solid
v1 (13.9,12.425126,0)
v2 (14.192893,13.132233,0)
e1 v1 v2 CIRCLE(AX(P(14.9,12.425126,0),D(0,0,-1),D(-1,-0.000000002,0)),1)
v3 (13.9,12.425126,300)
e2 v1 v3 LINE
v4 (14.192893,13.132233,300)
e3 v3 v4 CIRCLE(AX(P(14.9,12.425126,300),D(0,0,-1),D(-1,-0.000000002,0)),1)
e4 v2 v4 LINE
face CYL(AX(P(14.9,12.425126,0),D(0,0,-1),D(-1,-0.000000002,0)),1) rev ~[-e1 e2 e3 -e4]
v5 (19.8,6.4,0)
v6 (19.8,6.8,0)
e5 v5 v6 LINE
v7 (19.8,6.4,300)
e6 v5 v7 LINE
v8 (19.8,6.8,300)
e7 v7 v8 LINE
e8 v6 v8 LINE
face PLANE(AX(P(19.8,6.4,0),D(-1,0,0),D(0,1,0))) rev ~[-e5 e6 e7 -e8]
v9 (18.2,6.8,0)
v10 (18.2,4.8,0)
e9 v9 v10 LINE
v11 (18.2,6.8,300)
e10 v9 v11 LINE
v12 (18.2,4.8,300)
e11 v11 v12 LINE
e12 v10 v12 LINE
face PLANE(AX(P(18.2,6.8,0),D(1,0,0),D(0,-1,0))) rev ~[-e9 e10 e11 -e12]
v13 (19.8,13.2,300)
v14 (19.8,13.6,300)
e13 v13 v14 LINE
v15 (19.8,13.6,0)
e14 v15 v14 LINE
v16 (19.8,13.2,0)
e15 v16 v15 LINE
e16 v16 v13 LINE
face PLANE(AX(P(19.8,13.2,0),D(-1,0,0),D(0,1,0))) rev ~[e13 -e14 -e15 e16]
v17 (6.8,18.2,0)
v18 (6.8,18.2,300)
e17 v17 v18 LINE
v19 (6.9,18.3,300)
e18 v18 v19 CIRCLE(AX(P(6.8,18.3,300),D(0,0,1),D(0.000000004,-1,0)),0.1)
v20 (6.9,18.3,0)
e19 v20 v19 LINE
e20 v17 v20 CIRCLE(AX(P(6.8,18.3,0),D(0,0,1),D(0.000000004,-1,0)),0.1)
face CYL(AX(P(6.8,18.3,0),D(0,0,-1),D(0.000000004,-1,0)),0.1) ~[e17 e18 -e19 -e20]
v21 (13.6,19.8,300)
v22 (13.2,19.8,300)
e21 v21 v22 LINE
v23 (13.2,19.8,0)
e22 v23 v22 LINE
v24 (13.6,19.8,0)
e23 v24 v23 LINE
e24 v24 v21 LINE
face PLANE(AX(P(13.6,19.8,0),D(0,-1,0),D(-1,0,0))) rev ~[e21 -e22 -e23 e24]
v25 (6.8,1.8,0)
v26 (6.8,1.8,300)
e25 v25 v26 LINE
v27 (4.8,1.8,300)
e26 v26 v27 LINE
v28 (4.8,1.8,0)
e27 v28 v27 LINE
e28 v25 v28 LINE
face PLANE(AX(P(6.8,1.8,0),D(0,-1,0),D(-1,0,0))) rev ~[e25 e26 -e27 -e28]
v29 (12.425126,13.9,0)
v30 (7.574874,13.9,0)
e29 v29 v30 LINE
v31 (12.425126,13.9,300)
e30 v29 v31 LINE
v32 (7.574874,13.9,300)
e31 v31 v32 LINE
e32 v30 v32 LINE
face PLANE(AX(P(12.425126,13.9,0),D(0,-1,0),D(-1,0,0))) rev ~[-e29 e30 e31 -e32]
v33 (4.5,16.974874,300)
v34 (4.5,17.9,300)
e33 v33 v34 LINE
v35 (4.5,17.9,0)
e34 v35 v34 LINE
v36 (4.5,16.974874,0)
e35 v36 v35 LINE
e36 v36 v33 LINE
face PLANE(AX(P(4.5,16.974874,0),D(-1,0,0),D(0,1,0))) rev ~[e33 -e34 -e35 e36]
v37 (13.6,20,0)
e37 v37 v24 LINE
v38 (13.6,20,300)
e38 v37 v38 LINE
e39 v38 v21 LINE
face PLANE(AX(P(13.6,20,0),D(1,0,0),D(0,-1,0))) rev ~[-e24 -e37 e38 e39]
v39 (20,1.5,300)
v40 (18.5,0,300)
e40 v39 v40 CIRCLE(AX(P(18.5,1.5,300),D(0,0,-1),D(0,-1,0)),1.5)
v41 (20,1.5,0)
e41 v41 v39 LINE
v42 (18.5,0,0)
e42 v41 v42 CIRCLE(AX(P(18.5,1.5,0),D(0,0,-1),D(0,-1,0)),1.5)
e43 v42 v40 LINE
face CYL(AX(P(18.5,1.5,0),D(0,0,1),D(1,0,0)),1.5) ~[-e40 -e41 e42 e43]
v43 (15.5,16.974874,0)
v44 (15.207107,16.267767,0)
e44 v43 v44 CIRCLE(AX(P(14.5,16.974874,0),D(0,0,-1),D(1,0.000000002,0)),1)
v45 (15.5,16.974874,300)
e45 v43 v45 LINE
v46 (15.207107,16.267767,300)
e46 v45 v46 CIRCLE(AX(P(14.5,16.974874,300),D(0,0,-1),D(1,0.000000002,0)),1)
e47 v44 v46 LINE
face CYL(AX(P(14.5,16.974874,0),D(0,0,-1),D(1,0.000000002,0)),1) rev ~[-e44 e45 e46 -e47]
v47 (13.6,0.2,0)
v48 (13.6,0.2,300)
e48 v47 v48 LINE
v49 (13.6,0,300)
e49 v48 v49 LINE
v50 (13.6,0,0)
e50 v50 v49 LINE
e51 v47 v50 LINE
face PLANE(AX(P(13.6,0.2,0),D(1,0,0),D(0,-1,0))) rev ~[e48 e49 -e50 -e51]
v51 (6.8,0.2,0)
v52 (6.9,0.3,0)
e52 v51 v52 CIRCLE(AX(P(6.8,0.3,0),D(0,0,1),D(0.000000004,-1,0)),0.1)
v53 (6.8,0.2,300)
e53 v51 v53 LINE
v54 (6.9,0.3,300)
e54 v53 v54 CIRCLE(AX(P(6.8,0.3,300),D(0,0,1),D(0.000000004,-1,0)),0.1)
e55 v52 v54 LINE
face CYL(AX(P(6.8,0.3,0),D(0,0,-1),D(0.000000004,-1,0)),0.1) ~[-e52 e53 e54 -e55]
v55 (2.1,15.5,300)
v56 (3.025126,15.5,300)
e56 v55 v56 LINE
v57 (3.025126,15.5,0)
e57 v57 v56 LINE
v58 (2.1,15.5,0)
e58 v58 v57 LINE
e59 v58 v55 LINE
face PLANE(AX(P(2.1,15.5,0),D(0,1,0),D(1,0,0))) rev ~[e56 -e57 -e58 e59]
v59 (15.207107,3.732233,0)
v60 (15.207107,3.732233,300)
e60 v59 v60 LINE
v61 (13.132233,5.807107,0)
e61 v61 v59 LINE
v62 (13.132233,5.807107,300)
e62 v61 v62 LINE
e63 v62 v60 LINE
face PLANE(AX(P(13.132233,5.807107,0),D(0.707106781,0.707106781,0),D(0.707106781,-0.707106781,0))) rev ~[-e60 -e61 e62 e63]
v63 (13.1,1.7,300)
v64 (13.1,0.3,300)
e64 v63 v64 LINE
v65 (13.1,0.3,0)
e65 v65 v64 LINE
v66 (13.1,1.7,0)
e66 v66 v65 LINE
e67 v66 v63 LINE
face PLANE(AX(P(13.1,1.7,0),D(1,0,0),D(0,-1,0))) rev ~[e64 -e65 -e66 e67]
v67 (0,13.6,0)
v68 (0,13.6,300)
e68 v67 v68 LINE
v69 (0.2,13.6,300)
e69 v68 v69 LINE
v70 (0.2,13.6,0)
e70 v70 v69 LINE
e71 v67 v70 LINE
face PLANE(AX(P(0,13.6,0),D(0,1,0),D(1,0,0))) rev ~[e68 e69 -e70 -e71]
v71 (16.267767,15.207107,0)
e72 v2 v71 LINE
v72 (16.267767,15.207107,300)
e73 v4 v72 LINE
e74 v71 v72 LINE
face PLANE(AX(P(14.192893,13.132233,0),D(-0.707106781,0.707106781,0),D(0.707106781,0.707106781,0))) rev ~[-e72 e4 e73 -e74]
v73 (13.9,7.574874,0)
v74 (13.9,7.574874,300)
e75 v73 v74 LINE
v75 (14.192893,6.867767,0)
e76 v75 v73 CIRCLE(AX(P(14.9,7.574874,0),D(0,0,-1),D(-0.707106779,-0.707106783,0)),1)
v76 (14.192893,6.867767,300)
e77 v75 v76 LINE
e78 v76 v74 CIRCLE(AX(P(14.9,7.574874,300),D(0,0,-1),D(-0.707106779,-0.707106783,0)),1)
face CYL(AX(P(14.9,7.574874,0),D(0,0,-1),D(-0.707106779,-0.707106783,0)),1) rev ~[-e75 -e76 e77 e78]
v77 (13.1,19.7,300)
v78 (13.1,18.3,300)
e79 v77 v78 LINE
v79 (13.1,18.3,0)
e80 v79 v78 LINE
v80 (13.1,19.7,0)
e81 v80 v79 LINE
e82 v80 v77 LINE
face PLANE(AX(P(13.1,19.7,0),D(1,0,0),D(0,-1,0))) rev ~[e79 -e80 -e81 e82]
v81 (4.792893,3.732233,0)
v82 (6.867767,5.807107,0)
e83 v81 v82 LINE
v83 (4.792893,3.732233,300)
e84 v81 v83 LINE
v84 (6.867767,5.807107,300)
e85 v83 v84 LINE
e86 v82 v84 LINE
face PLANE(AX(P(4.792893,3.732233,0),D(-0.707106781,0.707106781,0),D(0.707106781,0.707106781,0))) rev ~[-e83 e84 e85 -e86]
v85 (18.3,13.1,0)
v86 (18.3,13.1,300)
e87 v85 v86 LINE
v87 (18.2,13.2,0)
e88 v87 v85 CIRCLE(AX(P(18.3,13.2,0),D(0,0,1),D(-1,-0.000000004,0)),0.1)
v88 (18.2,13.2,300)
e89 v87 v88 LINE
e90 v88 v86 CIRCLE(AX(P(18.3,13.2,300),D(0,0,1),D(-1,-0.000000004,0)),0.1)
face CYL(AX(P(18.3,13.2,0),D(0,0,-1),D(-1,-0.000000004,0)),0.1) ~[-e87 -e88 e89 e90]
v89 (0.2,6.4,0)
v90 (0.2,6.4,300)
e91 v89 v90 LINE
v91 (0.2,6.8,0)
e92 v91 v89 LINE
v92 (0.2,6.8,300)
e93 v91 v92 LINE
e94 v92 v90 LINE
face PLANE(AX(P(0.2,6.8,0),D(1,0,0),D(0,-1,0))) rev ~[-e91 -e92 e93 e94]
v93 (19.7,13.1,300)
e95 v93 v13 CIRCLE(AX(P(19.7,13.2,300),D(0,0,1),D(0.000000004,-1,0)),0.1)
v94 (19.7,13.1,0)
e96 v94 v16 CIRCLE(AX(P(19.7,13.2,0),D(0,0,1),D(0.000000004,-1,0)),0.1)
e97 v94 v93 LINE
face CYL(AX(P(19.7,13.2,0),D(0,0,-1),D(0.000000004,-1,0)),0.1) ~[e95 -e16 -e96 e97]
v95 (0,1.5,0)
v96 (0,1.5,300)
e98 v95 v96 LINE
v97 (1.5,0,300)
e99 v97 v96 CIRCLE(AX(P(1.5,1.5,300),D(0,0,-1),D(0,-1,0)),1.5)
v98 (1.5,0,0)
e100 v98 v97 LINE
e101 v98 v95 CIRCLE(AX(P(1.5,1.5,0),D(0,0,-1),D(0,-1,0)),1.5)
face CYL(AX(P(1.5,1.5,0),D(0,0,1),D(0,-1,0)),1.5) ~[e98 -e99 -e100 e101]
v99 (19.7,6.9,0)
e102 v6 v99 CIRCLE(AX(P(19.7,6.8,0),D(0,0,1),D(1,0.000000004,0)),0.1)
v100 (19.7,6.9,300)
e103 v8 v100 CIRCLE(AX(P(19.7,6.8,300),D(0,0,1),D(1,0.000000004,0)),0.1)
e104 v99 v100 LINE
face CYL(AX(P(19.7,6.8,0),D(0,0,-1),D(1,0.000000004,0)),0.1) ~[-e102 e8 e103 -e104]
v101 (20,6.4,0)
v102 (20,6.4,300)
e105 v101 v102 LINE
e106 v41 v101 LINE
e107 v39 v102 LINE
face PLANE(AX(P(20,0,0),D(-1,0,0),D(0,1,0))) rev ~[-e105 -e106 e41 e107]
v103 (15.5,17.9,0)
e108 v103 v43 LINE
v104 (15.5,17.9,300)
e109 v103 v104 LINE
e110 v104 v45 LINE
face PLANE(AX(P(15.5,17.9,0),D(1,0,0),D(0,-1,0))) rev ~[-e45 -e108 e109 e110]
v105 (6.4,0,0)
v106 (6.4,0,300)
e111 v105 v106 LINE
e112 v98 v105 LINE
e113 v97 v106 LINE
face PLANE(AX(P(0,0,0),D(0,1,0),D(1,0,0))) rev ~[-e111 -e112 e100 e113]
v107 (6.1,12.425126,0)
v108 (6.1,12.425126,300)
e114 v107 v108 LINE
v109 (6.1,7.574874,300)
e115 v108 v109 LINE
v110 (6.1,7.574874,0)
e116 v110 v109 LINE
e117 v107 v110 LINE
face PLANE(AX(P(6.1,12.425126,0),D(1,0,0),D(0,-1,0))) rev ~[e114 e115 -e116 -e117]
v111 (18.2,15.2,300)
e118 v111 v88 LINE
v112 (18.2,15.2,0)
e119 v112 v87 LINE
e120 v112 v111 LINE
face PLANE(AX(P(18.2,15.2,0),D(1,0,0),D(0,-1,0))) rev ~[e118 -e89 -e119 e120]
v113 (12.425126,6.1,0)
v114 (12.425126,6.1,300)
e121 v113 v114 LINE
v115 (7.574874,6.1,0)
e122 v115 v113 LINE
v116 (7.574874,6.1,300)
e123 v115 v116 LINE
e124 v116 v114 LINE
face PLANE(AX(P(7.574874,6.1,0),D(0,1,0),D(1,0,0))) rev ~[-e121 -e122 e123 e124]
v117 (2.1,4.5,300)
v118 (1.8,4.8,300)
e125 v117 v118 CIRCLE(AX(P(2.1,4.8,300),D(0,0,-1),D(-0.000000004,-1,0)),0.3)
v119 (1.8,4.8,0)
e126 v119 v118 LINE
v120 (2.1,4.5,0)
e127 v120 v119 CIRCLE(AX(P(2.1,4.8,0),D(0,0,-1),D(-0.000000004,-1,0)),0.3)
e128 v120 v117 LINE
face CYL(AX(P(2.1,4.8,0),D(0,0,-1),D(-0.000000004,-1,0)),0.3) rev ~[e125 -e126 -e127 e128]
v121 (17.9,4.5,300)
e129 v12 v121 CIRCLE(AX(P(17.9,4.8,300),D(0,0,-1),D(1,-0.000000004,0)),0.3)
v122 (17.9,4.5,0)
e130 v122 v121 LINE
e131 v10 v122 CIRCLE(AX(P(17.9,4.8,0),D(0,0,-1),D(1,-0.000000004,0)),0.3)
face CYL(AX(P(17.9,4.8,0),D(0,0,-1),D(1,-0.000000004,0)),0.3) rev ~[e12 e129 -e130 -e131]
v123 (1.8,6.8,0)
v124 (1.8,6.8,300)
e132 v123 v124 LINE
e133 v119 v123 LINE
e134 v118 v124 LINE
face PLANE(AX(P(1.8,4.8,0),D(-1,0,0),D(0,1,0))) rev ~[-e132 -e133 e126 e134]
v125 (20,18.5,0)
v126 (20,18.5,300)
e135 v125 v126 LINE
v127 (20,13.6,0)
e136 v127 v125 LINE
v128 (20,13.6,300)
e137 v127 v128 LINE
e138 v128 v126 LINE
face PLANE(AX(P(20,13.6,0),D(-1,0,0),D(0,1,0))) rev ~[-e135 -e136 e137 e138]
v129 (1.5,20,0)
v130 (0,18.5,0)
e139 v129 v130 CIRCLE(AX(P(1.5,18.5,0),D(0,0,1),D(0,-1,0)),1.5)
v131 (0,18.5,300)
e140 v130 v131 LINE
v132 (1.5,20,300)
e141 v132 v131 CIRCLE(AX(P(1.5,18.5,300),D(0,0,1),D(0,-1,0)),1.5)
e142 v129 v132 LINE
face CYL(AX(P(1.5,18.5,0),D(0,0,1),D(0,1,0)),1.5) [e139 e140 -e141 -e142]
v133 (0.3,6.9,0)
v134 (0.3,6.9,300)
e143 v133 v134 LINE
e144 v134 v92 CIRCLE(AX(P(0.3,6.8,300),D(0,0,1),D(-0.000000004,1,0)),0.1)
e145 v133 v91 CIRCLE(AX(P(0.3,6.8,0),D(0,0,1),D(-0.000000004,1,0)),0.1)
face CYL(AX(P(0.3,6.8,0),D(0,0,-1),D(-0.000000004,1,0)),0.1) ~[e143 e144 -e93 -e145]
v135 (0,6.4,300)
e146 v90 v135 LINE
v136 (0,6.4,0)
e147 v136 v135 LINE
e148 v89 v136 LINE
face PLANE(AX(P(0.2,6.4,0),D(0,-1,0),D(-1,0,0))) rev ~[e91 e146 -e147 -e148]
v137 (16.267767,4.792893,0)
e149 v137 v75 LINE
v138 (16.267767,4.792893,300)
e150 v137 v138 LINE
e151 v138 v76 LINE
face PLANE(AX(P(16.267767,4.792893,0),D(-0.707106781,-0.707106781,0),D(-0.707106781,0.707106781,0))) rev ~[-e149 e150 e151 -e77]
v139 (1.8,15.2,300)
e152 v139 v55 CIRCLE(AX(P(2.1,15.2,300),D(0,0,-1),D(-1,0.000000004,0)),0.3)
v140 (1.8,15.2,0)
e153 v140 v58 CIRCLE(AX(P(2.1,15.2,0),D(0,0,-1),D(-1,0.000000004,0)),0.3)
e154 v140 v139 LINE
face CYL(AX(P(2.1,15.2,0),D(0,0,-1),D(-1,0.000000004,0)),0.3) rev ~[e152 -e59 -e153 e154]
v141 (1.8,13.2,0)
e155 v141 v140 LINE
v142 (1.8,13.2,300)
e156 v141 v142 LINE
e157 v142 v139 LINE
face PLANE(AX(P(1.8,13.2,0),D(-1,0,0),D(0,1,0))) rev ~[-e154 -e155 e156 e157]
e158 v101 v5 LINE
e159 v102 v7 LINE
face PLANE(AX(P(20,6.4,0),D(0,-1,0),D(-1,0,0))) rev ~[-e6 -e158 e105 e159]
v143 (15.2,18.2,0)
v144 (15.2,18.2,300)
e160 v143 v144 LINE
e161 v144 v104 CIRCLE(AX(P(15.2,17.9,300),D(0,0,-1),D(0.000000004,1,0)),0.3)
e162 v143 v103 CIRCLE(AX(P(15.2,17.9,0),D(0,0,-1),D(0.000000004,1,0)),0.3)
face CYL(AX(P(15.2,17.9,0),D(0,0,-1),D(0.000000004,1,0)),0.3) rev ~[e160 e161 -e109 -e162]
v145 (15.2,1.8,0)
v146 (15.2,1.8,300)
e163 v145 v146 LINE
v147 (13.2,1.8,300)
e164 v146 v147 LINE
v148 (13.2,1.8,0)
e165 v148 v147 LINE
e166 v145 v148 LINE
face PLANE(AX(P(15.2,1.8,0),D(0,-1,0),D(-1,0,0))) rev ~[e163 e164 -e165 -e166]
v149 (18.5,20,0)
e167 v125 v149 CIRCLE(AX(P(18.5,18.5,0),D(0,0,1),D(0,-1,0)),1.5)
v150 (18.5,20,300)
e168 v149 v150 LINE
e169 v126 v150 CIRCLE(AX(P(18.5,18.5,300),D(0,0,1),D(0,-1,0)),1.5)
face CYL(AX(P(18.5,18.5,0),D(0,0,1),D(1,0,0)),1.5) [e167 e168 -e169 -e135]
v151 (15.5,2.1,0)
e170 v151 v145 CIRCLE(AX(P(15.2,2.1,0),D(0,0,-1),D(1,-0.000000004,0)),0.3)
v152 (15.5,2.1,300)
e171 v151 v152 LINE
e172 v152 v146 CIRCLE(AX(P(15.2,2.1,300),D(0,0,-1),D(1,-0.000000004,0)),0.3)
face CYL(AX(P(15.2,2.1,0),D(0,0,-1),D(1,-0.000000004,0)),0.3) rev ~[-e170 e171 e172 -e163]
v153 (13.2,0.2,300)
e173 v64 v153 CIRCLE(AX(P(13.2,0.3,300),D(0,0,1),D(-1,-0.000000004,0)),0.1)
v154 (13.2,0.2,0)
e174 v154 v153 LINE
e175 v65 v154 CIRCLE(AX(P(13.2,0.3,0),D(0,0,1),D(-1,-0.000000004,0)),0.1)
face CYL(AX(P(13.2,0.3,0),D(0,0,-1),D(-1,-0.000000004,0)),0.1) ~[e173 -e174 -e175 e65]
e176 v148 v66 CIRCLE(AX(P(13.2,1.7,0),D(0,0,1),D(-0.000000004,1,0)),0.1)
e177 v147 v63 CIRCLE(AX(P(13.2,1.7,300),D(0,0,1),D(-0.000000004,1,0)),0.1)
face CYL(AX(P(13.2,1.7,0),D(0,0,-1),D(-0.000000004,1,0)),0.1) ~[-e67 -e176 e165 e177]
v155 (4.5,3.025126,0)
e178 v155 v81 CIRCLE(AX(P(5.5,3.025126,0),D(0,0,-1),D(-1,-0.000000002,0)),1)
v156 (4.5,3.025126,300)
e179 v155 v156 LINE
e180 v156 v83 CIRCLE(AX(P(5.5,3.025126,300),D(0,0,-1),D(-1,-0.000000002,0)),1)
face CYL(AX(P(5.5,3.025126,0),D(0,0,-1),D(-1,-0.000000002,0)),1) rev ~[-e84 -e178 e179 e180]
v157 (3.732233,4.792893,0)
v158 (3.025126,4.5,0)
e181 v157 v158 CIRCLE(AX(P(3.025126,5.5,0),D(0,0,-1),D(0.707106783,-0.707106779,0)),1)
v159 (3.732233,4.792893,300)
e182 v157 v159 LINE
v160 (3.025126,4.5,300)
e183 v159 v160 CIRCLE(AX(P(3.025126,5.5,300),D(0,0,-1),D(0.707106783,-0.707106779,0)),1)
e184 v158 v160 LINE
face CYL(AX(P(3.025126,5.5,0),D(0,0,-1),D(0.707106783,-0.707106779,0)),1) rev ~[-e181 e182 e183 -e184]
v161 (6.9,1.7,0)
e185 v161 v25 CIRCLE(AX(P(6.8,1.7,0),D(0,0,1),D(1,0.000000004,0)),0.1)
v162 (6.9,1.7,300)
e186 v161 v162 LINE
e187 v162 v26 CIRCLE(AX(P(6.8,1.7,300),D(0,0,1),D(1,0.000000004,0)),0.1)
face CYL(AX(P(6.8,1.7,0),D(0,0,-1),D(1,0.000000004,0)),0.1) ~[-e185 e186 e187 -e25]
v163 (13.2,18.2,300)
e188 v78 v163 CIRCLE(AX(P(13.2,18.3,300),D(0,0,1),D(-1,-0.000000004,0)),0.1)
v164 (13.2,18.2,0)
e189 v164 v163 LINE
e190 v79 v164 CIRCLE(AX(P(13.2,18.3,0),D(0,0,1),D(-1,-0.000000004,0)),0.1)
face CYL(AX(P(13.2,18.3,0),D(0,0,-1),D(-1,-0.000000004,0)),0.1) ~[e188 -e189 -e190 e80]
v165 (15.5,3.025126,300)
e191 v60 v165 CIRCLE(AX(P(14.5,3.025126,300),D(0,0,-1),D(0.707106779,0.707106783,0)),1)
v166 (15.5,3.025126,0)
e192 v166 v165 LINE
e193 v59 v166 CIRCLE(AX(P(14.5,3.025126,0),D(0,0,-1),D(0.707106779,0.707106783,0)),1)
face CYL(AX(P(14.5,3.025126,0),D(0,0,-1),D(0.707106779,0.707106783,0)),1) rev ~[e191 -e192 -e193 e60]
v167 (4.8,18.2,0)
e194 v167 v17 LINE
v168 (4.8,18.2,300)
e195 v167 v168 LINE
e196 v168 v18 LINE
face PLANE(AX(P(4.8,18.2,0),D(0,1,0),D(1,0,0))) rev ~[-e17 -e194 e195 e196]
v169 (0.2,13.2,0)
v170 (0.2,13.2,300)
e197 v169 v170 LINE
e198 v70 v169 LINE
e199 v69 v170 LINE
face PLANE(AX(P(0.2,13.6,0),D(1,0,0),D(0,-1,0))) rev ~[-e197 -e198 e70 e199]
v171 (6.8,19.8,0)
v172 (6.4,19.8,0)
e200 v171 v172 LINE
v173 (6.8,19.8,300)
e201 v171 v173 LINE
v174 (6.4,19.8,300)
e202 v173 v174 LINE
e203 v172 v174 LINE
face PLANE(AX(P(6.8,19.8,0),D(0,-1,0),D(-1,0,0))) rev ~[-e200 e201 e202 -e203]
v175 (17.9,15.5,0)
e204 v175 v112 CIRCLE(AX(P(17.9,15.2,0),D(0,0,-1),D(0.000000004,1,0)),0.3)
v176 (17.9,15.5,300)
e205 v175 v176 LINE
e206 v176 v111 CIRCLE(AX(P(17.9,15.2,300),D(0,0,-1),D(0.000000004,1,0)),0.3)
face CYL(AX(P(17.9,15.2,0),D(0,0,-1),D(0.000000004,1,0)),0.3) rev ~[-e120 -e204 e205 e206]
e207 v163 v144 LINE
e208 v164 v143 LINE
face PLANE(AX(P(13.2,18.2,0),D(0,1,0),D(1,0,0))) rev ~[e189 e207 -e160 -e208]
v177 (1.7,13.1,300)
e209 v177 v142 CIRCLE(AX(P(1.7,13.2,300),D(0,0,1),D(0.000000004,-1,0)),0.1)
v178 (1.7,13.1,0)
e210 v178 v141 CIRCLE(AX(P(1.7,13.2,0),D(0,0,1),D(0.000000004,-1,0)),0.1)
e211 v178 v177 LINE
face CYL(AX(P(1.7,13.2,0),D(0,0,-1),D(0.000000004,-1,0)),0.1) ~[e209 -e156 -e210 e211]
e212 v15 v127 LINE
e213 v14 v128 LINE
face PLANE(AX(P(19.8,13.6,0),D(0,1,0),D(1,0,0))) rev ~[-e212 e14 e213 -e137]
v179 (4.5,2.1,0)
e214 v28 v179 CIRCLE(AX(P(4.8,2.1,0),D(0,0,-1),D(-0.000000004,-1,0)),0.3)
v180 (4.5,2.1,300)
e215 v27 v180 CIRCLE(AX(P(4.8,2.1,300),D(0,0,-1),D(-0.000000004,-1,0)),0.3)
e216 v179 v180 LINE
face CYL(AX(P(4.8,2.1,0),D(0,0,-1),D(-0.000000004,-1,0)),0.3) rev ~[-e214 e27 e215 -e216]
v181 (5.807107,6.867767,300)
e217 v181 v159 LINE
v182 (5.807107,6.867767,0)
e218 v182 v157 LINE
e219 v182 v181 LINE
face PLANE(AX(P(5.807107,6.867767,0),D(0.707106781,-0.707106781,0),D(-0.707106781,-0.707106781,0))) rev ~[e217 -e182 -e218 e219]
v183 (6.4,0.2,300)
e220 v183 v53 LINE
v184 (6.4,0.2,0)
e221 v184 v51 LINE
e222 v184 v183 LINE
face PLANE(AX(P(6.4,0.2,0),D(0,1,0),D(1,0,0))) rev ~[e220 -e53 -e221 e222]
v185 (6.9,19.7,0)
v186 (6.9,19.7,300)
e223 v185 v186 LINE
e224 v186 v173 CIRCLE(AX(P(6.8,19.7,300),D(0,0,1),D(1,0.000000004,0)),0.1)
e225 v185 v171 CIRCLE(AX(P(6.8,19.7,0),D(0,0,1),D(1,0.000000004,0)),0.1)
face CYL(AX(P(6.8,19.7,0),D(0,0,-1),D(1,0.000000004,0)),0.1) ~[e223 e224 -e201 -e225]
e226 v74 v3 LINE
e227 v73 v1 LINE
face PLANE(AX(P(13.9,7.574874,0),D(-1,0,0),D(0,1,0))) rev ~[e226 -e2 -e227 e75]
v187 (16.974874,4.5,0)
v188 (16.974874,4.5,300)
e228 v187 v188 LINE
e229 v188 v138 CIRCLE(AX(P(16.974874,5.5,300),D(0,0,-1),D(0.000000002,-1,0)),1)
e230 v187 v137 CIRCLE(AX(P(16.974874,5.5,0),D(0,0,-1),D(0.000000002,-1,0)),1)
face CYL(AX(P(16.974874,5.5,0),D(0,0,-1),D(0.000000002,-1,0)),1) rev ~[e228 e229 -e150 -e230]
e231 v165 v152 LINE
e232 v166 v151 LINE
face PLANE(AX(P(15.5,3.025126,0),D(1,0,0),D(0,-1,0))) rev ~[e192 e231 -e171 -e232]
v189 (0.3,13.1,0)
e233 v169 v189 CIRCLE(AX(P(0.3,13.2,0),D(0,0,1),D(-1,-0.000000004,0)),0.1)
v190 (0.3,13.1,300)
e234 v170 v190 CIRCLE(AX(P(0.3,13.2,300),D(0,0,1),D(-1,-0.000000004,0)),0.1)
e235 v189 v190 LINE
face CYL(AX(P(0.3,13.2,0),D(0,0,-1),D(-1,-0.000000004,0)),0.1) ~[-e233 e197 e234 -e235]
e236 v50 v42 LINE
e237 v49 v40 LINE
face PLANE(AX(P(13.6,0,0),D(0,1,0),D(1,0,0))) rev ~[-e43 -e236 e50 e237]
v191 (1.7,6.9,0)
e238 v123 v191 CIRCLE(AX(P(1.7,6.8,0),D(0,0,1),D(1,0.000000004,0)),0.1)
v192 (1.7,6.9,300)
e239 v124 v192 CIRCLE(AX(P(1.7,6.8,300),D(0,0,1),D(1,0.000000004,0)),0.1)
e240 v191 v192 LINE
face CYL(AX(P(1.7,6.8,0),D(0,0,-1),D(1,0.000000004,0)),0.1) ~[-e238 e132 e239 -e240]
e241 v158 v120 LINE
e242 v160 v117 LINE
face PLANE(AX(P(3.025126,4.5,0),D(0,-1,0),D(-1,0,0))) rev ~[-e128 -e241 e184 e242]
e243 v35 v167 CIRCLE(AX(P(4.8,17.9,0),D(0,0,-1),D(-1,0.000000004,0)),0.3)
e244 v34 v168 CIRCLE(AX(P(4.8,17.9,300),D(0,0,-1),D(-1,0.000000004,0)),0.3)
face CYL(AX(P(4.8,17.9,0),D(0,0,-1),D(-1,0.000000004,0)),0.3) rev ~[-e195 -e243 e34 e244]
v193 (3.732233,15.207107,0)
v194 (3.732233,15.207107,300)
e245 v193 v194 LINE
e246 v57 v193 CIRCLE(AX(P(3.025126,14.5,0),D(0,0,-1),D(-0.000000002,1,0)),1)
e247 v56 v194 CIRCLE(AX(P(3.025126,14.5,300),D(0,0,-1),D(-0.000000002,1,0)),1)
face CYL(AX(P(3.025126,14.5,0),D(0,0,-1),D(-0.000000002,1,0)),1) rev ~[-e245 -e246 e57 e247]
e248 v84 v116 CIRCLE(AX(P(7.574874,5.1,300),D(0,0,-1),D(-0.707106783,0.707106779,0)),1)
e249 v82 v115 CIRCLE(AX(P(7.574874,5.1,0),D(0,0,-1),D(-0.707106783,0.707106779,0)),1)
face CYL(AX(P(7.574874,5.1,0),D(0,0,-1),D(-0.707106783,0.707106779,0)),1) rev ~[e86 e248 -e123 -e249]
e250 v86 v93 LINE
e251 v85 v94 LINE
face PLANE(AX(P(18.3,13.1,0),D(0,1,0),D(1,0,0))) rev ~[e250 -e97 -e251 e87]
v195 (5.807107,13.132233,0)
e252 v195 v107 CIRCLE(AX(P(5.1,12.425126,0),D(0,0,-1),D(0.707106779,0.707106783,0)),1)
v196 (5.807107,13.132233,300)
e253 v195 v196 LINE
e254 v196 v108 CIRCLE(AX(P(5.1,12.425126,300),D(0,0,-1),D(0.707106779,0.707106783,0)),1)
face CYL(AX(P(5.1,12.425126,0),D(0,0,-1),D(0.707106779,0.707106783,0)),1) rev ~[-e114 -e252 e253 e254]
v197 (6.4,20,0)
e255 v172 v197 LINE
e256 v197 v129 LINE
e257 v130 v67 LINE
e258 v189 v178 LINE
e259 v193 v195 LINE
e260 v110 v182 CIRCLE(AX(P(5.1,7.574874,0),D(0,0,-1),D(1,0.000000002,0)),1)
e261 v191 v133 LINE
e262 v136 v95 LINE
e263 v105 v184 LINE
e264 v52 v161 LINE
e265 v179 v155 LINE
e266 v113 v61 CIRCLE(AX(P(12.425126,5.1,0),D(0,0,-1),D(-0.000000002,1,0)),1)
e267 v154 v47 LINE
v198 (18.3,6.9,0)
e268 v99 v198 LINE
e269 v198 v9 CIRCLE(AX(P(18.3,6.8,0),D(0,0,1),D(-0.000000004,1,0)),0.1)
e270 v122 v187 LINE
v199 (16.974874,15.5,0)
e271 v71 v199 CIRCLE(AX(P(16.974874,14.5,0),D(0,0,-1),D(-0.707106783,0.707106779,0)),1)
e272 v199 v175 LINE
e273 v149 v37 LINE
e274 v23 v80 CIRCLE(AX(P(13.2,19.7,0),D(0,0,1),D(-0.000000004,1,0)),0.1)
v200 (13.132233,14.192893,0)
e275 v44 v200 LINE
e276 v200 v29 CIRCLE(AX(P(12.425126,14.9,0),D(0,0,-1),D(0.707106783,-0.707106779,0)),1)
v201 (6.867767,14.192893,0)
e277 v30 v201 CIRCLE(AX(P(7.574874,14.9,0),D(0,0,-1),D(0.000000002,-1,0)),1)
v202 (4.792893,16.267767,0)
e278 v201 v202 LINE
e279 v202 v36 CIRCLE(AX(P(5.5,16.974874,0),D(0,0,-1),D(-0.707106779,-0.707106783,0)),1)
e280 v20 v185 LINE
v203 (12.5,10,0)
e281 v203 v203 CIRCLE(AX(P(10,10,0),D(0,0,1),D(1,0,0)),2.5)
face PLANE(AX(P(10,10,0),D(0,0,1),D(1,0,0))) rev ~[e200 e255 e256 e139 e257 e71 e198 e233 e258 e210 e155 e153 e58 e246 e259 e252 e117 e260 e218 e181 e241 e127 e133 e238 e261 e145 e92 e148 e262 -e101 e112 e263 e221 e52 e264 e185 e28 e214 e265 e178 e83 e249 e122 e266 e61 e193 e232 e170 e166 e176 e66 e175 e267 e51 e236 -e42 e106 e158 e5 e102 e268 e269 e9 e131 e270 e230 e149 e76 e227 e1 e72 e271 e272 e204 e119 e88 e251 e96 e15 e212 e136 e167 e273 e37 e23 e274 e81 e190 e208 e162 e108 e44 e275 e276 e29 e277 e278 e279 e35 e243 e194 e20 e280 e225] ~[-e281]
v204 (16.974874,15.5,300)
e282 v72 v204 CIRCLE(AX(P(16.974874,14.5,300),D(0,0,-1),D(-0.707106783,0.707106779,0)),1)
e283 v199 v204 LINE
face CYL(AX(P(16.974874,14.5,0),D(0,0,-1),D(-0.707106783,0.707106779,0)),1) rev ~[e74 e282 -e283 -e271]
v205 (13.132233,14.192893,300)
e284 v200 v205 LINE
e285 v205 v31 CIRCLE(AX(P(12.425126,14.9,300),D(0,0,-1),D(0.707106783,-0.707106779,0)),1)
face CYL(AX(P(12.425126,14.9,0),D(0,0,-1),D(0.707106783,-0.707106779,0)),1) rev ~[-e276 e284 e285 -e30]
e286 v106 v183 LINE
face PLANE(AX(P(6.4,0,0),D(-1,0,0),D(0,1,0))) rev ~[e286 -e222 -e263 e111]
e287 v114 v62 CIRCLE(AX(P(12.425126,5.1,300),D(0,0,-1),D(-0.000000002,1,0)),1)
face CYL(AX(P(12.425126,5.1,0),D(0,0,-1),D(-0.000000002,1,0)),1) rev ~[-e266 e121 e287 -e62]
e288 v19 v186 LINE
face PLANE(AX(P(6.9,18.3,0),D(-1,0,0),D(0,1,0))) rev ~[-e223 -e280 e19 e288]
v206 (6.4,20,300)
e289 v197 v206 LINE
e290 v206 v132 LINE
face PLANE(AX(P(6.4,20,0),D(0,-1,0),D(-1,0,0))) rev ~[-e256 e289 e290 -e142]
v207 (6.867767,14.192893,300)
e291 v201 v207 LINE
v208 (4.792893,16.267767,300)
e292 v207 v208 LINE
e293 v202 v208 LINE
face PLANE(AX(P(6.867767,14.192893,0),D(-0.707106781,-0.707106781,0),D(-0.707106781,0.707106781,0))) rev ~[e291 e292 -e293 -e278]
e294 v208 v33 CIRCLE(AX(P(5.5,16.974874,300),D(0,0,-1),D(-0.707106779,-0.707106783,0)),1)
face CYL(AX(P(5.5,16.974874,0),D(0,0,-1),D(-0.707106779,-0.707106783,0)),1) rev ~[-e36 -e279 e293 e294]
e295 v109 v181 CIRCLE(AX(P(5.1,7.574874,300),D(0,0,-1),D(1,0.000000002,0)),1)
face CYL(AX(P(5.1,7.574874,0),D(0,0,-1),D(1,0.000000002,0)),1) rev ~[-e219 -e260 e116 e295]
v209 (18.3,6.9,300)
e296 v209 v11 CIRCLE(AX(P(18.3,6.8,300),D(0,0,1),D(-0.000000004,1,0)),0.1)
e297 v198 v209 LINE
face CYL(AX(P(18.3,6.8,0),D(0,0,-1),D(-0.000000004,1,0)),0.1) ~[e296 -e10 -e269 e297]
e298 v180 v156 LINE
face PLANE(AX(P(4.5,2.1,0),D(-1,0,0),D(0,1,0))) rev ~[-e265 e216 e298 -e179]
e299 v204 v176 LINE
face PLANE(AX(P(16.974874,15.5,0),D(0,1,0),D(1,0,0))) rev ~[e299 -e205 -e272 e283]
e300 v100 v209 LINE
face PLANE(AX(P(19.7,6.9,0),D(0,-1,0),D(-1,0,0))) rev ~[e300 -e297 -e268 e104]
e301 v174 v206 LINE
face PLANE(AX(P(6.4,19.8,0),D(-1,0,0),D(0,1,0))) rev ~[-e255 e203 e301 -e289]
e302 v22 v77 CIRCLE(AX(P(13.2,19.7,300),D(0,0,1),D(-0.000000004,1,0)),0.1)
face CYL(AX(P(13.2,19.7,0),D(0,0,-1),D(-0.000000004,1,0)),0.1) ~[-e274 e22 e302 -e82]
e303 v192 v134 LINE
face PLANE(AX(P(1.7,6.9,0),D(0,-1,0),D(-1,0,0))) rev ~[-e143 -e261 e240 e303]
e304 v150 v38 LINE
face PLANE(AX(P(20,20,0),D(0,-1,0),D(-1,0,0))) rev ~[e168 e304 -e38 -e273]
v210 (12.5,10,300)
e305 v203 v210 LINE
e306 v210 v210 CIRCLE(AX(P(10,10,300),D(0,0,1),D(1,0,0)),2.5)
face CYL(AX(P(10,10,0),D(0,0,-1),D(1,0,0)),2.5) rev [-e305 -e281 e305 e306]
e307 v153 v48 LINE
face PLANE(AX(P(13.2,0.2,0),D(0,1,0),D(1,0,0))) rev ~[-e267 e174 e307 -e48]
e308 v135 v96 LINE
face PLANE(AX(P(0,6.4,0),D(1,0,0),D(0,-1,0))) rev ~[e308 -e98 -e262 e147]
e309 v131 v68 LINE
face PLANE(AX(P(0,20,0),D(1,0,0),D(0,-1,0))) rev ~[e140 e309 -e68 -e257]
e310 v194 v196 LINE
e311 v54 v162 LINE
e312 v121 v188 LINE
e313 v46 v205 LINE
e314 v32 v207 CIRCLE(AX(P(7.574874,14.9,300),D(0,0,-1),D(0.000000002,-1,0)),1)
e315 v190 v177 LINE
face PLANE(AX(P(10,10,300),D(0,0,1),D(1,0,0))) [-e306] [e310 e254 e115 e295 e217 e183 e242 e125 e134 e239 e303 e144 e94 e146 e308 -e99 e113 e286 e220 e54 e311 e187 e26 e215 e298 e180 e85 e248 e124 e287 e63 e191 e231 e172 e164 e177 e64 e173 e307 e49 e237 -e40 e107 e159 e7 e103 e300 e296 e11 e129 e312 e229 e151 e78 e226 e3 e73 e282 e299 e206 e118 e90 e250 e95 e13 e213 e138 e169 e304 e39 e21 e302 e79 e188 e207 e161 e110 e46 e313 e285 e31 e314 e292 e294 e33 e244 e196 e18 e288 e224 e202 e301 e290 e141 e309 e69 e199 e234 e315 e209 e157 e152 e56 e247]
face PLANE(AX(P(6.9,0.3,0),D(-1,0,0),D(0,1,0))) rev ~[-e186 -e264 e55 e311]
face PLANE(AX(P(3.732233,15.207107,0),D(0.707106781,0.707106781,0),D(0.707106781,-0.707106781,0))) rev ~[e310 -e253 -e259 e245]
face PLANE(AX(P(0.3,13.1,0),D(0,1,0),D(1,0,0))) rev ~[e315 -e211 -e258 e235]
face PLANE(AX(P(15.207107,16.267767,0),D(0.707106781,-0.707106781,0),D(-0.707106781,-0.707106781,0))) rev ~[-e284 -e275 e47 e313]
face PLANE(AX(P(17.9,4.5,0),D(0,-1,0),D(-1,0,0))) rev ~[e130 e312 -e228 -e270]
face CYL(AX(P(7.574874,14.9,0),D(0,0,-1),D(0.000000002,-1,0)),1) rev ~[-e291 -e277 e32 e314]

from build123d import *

# Parameters (mm, degrees)
SKETCH_1_R      = 2.5
EXTRUDE_1_DEPTH = 300
FILLET_1_R      = 1.5


with BuildPart() as part:
    # 草图1 → 凸台-拉伸1 (new body)
    with BuildSketch(Plane.XY):
        with BuildLine():
            Line((20, 13.6), (20, 20))
            Line((20, 20), (13.6, 20))
            Line((13.6, 20), (13.6, 19.8))
            Line((13.6, 19.8), (13.2, 19.8))
            ThreePointArc((13.2, 19.8), (13.129289322, 19.770710678), (13.1, 19.7))
            Line((13.1, 19.7), (13.1, 18.3))
            ThreePointArc((13.1, 18.3), (13.129289322, 18.229289322), (13.2, 18.2))
            Line((13.2, 18.2), (15.2, 18.2))
            ThreePointArc((15.2, 18.2), (15.412132034, 18.112132034), (15.5, 17.9))
            Line((15.5, 17.9), (15.5, 16.974873734))
            ThreePointArc((15.5, 16.974873734), (15.423879533, 16.592190302), (15.207106781, 16.267766953))
            Line((15.207106781, 16.267766953), (13.132233047, 14.192893219))
            ThreePointArc((13.132233047, 14.192893219), (12.807809698, 13.976120467), (12.425126266, 13.9))
            Line((12.425126266, 13.9), (7.574873734, 13.9))
            ThreePointArc((7.574873734, 13.9), (7.192190302, 13.976120467), (6.867766953, 14.192893219))
            Line((6.867766953, 14.192893219), (4.792893219, 16.267766953))
            ThreePointArc((4.792893219, 16.267766953), (4.576120467, 16.592190302), (4.5, 16.974873734))
            Line((4.5, 16.974873734), (4.5, 17.9))
            ThreePointArc((4.5, 17.9), (4.587867966, 18.112132034), (4.8, 18.2))
            Line((4.8, 18.2), (6.8, 18.2))
            ThreePointArc((6.8, 18.2), (6.870710678, 18.229289322), (6.9, 18.3))
            Line((6.9, 18.3), (6.9, 19.7))
            ThreePointArc((6.9, 19.7), (6.870710678, 19.770710678), (6.8, 19.8))
            Line((6.8, 19.8), (6.4, 19.8))
            Line((6.4, 19.8), (6.4, 20))
            Line((6.4, 20), (0, 20))
            Line((0, 20), (0, 13.6))
            Line((0, 13.6), (0.2, 13.6))
            Line((0.2, 13.6), (0.2, 13.2))
            ThreePointArc((0.2, 13.2), (0.229289322, 13.129289322), (0.3, 13.1))
            Line((0.3, 13.1), (1.7, 13.1))
            ThreePointArc((1.7, 13.1), (1.770710678, 13.129289322), (1.8, 13.2))
            Line((1.8, 13.2), (1.8, 15.2))
            ThreePointArc((1.8, 15.2), (1.887867966, 15.412132034), (2.1, 15.5))
            Line((2.1, 15.5), (3.025126266, 15.5))
            ThreePointArc((3.025126266, 15.5), (3.407809698, 15.423879533), (3.732233047, 15.207106781))
            Line((3.732233047, 15.207106781), (5.807106781, 13.132233047))
            ThreePointArc((5.807106781, 13.132233047), (6.023879533, 12.807809698), (6.1, 12.425126266))
            Line((6.1, 12.425126266), (6.1, 7.574873734))
            ThreePointArc((6.1, 7.574873734), (6.023879533, 7.192190302), (5.807106781, 6.867766953))
            Line((5.807106781, 6.867766953), (3.732233047, 4.792893219))
            ThreePointArc((3.732233047, 4.792893219), (3.407809698, 4.576120467), (3.025126266, 4.5))
            Line((3.025126266, 4.5), (2.1, 4.5))
            ThreePointArc((2.1, 4.5), (1.887867966, 4.587867966), (1.8, 4.8))
            Line((1.8, 4.8), (1.8, 6.8))
            ThreePointArc((1.8, 6.8), (1.770710678, 6.870710678), (1.7, 6.9))
            Line((1.7, 6.9), (0.3, 6.9))
            ThreePointArc((0.3, 6.9), (0.229289322, 6.870710678), (0.2, 6.8))
            Line((0.2, 6.8), (0.2, 6.4))
            Line((0.2, 6.4), (0, 6.4))
            Line((0, 6.4), (0, 0))
            Line((0, 0), (6.4, 0))
            Line((6.4, 0), (6.4, 0.2))
            Line((6.4, 0.2), (6.8, 0.2))
            ThreePointArc((6.8, 0.2), (6.870710678, 0.229289322), (6.9, 0.3))
            Line((6.9, 0.3), (6.9, 1.7))
            ThreePointArc((6.9, 1.7), (6.870710678, 1.770710678), (6.8, 1.8))
            Line((6.8, 1.8), (4.8, 1.8))
            ThreePointArc((4.8, 1.8), (4.587867966, 1.887867966), (4.5, 2.1))
            Line((4.5, 2.1), (4.5, 3.025126266))
            ThreePointArc((4.5, 3.025126266), (4.576120467, 3.407809698), (4.792893219, 3.732233047))
            Line((4.792893219, 3.732233047), (6.867766953, 5.807106781))
            ThreePointArc((6.867766953, 5.807106781), (7.192190302, 6.023879533), (7.574873734, 6.1))
            Line((7.574873734, 6.1), (12.425126266, 6.1))
            ThreePointArc((12.425126266, 6.1), (12.807809698, 6.023879533), (13.132233047, 5.807106781))
            Line((13.132233047, 5.807106781), (15.207106781, 3.732233047))
            ThreePointArc((15.207106781, 3.732233047), (15.423879533, 3.407809698), (15.5, 3.025126266))
            Line((15.5, 3.025126266), (15.5, 2.1))
            ThreePointArc((15.5, 2.1), (15.412132034, 1.887867966), (15.2, 1.8))
            Line((15.2, 1.8), (13.2, 1.8))
            ThreePointArc((13.2, 1.8), (13.129289322, 1.770710678), (13.1, 1.7))
            Line((13.1, 1.7), (13.1, 0.3))
            ThreePointArc((13.1, 0.3), (13.129289322, 0.229289322), (13.2, 0.2))
            Line((13.2, 0.2), (13.6, 0.2))
            Line((13.6, 0.2), (13.6, 0))
            Line((13.6, 0), (20, 0))
            Line((20, 0), (20, 6.4))
            Line((20, 6.4), (19.8, 6.4))
            Line((19.8, 6.4), (19.8, 6.8))
            ThreePointArc((19.8, 6.8), (19.770710678, 6.870710678), (19.7, 6.9))
            Line((19.7, 6.9), (18.3, 6.9))
            ThreePointArc((18.3, 6.9), (18.229289322, 6.870710678), (18.2, 6.8))
            Line((18.2, 6.8), (18.2, 4.8))
            ThreePointArc((18.2, 4.8), (18.112132034, 4.587867966), (17.9, 4.5))
            Line((17.9, 4.5), (16.974873734, 4.5))
            ThreePointArc((16.974873734, 4.5), (16.592190302, 4.576120467), (16.267766953, 4.792893219))
            Line((16.267766953, 4.792893219), (14.192893219, 6.867766953))
            ThreePointArc((14.192893219, 6.867766953), (13.976120467, 7.192190302), (13.9, 7.574873734))
            Line((13.9, 7.574873734), (13.9, 12.425126266))
            ThreePointArc((13.9, 12.425126266), (13.976120467, 12.807809698), (14.192893219, 13.132233047))
            Line((14.192893219, 13.132233047), (16.267766953, 15.207106781))
            ThreePointArc((16.267766953, 15.207106781), (16.592190302, 15.423879533), (16.974873734, 15.5))
            Line((16.974873734, 15.5), (17.9, 15.5))
            ThreePointArc((17.9, 15.5), (18.112132034, 15.412132034), (18.2, 15.2))
            Line((18.2, 15.2), (18.2, 13.2))
            ThreePointArc((18.2, 13.2), (18.229289322, 13.129289322), (18.3, 13.1))
            Line((18.3, 13.1), (19.7, 13.1))
            ThreePointArc((19.7, 13.1), (19.770710678, 13.129289322), (19.8, 13.2))
            Line((19.8, 13.2), (19.8, 13.6))
            Line((19.8, 13.6), (20, 13.6))
        make_face()
        with Locations((10, 10)):
            Circle(SKETCH_1_R, mode=Mode.SUBTRACT)
    extrude(amount=EXTRUDE_1_DEPTH)

    # 圆角1
    fillet_1_edges = [part.edges().sort_by_distance(p)[0] for p in [
        (0, 0, 150),
        (0, 20, 150),
        (20, 20, 150),
        (20, 0, 150),
    ]]
    fillet(fillet_1_edges, radius=FILLET_1_R)


solid = part.part
